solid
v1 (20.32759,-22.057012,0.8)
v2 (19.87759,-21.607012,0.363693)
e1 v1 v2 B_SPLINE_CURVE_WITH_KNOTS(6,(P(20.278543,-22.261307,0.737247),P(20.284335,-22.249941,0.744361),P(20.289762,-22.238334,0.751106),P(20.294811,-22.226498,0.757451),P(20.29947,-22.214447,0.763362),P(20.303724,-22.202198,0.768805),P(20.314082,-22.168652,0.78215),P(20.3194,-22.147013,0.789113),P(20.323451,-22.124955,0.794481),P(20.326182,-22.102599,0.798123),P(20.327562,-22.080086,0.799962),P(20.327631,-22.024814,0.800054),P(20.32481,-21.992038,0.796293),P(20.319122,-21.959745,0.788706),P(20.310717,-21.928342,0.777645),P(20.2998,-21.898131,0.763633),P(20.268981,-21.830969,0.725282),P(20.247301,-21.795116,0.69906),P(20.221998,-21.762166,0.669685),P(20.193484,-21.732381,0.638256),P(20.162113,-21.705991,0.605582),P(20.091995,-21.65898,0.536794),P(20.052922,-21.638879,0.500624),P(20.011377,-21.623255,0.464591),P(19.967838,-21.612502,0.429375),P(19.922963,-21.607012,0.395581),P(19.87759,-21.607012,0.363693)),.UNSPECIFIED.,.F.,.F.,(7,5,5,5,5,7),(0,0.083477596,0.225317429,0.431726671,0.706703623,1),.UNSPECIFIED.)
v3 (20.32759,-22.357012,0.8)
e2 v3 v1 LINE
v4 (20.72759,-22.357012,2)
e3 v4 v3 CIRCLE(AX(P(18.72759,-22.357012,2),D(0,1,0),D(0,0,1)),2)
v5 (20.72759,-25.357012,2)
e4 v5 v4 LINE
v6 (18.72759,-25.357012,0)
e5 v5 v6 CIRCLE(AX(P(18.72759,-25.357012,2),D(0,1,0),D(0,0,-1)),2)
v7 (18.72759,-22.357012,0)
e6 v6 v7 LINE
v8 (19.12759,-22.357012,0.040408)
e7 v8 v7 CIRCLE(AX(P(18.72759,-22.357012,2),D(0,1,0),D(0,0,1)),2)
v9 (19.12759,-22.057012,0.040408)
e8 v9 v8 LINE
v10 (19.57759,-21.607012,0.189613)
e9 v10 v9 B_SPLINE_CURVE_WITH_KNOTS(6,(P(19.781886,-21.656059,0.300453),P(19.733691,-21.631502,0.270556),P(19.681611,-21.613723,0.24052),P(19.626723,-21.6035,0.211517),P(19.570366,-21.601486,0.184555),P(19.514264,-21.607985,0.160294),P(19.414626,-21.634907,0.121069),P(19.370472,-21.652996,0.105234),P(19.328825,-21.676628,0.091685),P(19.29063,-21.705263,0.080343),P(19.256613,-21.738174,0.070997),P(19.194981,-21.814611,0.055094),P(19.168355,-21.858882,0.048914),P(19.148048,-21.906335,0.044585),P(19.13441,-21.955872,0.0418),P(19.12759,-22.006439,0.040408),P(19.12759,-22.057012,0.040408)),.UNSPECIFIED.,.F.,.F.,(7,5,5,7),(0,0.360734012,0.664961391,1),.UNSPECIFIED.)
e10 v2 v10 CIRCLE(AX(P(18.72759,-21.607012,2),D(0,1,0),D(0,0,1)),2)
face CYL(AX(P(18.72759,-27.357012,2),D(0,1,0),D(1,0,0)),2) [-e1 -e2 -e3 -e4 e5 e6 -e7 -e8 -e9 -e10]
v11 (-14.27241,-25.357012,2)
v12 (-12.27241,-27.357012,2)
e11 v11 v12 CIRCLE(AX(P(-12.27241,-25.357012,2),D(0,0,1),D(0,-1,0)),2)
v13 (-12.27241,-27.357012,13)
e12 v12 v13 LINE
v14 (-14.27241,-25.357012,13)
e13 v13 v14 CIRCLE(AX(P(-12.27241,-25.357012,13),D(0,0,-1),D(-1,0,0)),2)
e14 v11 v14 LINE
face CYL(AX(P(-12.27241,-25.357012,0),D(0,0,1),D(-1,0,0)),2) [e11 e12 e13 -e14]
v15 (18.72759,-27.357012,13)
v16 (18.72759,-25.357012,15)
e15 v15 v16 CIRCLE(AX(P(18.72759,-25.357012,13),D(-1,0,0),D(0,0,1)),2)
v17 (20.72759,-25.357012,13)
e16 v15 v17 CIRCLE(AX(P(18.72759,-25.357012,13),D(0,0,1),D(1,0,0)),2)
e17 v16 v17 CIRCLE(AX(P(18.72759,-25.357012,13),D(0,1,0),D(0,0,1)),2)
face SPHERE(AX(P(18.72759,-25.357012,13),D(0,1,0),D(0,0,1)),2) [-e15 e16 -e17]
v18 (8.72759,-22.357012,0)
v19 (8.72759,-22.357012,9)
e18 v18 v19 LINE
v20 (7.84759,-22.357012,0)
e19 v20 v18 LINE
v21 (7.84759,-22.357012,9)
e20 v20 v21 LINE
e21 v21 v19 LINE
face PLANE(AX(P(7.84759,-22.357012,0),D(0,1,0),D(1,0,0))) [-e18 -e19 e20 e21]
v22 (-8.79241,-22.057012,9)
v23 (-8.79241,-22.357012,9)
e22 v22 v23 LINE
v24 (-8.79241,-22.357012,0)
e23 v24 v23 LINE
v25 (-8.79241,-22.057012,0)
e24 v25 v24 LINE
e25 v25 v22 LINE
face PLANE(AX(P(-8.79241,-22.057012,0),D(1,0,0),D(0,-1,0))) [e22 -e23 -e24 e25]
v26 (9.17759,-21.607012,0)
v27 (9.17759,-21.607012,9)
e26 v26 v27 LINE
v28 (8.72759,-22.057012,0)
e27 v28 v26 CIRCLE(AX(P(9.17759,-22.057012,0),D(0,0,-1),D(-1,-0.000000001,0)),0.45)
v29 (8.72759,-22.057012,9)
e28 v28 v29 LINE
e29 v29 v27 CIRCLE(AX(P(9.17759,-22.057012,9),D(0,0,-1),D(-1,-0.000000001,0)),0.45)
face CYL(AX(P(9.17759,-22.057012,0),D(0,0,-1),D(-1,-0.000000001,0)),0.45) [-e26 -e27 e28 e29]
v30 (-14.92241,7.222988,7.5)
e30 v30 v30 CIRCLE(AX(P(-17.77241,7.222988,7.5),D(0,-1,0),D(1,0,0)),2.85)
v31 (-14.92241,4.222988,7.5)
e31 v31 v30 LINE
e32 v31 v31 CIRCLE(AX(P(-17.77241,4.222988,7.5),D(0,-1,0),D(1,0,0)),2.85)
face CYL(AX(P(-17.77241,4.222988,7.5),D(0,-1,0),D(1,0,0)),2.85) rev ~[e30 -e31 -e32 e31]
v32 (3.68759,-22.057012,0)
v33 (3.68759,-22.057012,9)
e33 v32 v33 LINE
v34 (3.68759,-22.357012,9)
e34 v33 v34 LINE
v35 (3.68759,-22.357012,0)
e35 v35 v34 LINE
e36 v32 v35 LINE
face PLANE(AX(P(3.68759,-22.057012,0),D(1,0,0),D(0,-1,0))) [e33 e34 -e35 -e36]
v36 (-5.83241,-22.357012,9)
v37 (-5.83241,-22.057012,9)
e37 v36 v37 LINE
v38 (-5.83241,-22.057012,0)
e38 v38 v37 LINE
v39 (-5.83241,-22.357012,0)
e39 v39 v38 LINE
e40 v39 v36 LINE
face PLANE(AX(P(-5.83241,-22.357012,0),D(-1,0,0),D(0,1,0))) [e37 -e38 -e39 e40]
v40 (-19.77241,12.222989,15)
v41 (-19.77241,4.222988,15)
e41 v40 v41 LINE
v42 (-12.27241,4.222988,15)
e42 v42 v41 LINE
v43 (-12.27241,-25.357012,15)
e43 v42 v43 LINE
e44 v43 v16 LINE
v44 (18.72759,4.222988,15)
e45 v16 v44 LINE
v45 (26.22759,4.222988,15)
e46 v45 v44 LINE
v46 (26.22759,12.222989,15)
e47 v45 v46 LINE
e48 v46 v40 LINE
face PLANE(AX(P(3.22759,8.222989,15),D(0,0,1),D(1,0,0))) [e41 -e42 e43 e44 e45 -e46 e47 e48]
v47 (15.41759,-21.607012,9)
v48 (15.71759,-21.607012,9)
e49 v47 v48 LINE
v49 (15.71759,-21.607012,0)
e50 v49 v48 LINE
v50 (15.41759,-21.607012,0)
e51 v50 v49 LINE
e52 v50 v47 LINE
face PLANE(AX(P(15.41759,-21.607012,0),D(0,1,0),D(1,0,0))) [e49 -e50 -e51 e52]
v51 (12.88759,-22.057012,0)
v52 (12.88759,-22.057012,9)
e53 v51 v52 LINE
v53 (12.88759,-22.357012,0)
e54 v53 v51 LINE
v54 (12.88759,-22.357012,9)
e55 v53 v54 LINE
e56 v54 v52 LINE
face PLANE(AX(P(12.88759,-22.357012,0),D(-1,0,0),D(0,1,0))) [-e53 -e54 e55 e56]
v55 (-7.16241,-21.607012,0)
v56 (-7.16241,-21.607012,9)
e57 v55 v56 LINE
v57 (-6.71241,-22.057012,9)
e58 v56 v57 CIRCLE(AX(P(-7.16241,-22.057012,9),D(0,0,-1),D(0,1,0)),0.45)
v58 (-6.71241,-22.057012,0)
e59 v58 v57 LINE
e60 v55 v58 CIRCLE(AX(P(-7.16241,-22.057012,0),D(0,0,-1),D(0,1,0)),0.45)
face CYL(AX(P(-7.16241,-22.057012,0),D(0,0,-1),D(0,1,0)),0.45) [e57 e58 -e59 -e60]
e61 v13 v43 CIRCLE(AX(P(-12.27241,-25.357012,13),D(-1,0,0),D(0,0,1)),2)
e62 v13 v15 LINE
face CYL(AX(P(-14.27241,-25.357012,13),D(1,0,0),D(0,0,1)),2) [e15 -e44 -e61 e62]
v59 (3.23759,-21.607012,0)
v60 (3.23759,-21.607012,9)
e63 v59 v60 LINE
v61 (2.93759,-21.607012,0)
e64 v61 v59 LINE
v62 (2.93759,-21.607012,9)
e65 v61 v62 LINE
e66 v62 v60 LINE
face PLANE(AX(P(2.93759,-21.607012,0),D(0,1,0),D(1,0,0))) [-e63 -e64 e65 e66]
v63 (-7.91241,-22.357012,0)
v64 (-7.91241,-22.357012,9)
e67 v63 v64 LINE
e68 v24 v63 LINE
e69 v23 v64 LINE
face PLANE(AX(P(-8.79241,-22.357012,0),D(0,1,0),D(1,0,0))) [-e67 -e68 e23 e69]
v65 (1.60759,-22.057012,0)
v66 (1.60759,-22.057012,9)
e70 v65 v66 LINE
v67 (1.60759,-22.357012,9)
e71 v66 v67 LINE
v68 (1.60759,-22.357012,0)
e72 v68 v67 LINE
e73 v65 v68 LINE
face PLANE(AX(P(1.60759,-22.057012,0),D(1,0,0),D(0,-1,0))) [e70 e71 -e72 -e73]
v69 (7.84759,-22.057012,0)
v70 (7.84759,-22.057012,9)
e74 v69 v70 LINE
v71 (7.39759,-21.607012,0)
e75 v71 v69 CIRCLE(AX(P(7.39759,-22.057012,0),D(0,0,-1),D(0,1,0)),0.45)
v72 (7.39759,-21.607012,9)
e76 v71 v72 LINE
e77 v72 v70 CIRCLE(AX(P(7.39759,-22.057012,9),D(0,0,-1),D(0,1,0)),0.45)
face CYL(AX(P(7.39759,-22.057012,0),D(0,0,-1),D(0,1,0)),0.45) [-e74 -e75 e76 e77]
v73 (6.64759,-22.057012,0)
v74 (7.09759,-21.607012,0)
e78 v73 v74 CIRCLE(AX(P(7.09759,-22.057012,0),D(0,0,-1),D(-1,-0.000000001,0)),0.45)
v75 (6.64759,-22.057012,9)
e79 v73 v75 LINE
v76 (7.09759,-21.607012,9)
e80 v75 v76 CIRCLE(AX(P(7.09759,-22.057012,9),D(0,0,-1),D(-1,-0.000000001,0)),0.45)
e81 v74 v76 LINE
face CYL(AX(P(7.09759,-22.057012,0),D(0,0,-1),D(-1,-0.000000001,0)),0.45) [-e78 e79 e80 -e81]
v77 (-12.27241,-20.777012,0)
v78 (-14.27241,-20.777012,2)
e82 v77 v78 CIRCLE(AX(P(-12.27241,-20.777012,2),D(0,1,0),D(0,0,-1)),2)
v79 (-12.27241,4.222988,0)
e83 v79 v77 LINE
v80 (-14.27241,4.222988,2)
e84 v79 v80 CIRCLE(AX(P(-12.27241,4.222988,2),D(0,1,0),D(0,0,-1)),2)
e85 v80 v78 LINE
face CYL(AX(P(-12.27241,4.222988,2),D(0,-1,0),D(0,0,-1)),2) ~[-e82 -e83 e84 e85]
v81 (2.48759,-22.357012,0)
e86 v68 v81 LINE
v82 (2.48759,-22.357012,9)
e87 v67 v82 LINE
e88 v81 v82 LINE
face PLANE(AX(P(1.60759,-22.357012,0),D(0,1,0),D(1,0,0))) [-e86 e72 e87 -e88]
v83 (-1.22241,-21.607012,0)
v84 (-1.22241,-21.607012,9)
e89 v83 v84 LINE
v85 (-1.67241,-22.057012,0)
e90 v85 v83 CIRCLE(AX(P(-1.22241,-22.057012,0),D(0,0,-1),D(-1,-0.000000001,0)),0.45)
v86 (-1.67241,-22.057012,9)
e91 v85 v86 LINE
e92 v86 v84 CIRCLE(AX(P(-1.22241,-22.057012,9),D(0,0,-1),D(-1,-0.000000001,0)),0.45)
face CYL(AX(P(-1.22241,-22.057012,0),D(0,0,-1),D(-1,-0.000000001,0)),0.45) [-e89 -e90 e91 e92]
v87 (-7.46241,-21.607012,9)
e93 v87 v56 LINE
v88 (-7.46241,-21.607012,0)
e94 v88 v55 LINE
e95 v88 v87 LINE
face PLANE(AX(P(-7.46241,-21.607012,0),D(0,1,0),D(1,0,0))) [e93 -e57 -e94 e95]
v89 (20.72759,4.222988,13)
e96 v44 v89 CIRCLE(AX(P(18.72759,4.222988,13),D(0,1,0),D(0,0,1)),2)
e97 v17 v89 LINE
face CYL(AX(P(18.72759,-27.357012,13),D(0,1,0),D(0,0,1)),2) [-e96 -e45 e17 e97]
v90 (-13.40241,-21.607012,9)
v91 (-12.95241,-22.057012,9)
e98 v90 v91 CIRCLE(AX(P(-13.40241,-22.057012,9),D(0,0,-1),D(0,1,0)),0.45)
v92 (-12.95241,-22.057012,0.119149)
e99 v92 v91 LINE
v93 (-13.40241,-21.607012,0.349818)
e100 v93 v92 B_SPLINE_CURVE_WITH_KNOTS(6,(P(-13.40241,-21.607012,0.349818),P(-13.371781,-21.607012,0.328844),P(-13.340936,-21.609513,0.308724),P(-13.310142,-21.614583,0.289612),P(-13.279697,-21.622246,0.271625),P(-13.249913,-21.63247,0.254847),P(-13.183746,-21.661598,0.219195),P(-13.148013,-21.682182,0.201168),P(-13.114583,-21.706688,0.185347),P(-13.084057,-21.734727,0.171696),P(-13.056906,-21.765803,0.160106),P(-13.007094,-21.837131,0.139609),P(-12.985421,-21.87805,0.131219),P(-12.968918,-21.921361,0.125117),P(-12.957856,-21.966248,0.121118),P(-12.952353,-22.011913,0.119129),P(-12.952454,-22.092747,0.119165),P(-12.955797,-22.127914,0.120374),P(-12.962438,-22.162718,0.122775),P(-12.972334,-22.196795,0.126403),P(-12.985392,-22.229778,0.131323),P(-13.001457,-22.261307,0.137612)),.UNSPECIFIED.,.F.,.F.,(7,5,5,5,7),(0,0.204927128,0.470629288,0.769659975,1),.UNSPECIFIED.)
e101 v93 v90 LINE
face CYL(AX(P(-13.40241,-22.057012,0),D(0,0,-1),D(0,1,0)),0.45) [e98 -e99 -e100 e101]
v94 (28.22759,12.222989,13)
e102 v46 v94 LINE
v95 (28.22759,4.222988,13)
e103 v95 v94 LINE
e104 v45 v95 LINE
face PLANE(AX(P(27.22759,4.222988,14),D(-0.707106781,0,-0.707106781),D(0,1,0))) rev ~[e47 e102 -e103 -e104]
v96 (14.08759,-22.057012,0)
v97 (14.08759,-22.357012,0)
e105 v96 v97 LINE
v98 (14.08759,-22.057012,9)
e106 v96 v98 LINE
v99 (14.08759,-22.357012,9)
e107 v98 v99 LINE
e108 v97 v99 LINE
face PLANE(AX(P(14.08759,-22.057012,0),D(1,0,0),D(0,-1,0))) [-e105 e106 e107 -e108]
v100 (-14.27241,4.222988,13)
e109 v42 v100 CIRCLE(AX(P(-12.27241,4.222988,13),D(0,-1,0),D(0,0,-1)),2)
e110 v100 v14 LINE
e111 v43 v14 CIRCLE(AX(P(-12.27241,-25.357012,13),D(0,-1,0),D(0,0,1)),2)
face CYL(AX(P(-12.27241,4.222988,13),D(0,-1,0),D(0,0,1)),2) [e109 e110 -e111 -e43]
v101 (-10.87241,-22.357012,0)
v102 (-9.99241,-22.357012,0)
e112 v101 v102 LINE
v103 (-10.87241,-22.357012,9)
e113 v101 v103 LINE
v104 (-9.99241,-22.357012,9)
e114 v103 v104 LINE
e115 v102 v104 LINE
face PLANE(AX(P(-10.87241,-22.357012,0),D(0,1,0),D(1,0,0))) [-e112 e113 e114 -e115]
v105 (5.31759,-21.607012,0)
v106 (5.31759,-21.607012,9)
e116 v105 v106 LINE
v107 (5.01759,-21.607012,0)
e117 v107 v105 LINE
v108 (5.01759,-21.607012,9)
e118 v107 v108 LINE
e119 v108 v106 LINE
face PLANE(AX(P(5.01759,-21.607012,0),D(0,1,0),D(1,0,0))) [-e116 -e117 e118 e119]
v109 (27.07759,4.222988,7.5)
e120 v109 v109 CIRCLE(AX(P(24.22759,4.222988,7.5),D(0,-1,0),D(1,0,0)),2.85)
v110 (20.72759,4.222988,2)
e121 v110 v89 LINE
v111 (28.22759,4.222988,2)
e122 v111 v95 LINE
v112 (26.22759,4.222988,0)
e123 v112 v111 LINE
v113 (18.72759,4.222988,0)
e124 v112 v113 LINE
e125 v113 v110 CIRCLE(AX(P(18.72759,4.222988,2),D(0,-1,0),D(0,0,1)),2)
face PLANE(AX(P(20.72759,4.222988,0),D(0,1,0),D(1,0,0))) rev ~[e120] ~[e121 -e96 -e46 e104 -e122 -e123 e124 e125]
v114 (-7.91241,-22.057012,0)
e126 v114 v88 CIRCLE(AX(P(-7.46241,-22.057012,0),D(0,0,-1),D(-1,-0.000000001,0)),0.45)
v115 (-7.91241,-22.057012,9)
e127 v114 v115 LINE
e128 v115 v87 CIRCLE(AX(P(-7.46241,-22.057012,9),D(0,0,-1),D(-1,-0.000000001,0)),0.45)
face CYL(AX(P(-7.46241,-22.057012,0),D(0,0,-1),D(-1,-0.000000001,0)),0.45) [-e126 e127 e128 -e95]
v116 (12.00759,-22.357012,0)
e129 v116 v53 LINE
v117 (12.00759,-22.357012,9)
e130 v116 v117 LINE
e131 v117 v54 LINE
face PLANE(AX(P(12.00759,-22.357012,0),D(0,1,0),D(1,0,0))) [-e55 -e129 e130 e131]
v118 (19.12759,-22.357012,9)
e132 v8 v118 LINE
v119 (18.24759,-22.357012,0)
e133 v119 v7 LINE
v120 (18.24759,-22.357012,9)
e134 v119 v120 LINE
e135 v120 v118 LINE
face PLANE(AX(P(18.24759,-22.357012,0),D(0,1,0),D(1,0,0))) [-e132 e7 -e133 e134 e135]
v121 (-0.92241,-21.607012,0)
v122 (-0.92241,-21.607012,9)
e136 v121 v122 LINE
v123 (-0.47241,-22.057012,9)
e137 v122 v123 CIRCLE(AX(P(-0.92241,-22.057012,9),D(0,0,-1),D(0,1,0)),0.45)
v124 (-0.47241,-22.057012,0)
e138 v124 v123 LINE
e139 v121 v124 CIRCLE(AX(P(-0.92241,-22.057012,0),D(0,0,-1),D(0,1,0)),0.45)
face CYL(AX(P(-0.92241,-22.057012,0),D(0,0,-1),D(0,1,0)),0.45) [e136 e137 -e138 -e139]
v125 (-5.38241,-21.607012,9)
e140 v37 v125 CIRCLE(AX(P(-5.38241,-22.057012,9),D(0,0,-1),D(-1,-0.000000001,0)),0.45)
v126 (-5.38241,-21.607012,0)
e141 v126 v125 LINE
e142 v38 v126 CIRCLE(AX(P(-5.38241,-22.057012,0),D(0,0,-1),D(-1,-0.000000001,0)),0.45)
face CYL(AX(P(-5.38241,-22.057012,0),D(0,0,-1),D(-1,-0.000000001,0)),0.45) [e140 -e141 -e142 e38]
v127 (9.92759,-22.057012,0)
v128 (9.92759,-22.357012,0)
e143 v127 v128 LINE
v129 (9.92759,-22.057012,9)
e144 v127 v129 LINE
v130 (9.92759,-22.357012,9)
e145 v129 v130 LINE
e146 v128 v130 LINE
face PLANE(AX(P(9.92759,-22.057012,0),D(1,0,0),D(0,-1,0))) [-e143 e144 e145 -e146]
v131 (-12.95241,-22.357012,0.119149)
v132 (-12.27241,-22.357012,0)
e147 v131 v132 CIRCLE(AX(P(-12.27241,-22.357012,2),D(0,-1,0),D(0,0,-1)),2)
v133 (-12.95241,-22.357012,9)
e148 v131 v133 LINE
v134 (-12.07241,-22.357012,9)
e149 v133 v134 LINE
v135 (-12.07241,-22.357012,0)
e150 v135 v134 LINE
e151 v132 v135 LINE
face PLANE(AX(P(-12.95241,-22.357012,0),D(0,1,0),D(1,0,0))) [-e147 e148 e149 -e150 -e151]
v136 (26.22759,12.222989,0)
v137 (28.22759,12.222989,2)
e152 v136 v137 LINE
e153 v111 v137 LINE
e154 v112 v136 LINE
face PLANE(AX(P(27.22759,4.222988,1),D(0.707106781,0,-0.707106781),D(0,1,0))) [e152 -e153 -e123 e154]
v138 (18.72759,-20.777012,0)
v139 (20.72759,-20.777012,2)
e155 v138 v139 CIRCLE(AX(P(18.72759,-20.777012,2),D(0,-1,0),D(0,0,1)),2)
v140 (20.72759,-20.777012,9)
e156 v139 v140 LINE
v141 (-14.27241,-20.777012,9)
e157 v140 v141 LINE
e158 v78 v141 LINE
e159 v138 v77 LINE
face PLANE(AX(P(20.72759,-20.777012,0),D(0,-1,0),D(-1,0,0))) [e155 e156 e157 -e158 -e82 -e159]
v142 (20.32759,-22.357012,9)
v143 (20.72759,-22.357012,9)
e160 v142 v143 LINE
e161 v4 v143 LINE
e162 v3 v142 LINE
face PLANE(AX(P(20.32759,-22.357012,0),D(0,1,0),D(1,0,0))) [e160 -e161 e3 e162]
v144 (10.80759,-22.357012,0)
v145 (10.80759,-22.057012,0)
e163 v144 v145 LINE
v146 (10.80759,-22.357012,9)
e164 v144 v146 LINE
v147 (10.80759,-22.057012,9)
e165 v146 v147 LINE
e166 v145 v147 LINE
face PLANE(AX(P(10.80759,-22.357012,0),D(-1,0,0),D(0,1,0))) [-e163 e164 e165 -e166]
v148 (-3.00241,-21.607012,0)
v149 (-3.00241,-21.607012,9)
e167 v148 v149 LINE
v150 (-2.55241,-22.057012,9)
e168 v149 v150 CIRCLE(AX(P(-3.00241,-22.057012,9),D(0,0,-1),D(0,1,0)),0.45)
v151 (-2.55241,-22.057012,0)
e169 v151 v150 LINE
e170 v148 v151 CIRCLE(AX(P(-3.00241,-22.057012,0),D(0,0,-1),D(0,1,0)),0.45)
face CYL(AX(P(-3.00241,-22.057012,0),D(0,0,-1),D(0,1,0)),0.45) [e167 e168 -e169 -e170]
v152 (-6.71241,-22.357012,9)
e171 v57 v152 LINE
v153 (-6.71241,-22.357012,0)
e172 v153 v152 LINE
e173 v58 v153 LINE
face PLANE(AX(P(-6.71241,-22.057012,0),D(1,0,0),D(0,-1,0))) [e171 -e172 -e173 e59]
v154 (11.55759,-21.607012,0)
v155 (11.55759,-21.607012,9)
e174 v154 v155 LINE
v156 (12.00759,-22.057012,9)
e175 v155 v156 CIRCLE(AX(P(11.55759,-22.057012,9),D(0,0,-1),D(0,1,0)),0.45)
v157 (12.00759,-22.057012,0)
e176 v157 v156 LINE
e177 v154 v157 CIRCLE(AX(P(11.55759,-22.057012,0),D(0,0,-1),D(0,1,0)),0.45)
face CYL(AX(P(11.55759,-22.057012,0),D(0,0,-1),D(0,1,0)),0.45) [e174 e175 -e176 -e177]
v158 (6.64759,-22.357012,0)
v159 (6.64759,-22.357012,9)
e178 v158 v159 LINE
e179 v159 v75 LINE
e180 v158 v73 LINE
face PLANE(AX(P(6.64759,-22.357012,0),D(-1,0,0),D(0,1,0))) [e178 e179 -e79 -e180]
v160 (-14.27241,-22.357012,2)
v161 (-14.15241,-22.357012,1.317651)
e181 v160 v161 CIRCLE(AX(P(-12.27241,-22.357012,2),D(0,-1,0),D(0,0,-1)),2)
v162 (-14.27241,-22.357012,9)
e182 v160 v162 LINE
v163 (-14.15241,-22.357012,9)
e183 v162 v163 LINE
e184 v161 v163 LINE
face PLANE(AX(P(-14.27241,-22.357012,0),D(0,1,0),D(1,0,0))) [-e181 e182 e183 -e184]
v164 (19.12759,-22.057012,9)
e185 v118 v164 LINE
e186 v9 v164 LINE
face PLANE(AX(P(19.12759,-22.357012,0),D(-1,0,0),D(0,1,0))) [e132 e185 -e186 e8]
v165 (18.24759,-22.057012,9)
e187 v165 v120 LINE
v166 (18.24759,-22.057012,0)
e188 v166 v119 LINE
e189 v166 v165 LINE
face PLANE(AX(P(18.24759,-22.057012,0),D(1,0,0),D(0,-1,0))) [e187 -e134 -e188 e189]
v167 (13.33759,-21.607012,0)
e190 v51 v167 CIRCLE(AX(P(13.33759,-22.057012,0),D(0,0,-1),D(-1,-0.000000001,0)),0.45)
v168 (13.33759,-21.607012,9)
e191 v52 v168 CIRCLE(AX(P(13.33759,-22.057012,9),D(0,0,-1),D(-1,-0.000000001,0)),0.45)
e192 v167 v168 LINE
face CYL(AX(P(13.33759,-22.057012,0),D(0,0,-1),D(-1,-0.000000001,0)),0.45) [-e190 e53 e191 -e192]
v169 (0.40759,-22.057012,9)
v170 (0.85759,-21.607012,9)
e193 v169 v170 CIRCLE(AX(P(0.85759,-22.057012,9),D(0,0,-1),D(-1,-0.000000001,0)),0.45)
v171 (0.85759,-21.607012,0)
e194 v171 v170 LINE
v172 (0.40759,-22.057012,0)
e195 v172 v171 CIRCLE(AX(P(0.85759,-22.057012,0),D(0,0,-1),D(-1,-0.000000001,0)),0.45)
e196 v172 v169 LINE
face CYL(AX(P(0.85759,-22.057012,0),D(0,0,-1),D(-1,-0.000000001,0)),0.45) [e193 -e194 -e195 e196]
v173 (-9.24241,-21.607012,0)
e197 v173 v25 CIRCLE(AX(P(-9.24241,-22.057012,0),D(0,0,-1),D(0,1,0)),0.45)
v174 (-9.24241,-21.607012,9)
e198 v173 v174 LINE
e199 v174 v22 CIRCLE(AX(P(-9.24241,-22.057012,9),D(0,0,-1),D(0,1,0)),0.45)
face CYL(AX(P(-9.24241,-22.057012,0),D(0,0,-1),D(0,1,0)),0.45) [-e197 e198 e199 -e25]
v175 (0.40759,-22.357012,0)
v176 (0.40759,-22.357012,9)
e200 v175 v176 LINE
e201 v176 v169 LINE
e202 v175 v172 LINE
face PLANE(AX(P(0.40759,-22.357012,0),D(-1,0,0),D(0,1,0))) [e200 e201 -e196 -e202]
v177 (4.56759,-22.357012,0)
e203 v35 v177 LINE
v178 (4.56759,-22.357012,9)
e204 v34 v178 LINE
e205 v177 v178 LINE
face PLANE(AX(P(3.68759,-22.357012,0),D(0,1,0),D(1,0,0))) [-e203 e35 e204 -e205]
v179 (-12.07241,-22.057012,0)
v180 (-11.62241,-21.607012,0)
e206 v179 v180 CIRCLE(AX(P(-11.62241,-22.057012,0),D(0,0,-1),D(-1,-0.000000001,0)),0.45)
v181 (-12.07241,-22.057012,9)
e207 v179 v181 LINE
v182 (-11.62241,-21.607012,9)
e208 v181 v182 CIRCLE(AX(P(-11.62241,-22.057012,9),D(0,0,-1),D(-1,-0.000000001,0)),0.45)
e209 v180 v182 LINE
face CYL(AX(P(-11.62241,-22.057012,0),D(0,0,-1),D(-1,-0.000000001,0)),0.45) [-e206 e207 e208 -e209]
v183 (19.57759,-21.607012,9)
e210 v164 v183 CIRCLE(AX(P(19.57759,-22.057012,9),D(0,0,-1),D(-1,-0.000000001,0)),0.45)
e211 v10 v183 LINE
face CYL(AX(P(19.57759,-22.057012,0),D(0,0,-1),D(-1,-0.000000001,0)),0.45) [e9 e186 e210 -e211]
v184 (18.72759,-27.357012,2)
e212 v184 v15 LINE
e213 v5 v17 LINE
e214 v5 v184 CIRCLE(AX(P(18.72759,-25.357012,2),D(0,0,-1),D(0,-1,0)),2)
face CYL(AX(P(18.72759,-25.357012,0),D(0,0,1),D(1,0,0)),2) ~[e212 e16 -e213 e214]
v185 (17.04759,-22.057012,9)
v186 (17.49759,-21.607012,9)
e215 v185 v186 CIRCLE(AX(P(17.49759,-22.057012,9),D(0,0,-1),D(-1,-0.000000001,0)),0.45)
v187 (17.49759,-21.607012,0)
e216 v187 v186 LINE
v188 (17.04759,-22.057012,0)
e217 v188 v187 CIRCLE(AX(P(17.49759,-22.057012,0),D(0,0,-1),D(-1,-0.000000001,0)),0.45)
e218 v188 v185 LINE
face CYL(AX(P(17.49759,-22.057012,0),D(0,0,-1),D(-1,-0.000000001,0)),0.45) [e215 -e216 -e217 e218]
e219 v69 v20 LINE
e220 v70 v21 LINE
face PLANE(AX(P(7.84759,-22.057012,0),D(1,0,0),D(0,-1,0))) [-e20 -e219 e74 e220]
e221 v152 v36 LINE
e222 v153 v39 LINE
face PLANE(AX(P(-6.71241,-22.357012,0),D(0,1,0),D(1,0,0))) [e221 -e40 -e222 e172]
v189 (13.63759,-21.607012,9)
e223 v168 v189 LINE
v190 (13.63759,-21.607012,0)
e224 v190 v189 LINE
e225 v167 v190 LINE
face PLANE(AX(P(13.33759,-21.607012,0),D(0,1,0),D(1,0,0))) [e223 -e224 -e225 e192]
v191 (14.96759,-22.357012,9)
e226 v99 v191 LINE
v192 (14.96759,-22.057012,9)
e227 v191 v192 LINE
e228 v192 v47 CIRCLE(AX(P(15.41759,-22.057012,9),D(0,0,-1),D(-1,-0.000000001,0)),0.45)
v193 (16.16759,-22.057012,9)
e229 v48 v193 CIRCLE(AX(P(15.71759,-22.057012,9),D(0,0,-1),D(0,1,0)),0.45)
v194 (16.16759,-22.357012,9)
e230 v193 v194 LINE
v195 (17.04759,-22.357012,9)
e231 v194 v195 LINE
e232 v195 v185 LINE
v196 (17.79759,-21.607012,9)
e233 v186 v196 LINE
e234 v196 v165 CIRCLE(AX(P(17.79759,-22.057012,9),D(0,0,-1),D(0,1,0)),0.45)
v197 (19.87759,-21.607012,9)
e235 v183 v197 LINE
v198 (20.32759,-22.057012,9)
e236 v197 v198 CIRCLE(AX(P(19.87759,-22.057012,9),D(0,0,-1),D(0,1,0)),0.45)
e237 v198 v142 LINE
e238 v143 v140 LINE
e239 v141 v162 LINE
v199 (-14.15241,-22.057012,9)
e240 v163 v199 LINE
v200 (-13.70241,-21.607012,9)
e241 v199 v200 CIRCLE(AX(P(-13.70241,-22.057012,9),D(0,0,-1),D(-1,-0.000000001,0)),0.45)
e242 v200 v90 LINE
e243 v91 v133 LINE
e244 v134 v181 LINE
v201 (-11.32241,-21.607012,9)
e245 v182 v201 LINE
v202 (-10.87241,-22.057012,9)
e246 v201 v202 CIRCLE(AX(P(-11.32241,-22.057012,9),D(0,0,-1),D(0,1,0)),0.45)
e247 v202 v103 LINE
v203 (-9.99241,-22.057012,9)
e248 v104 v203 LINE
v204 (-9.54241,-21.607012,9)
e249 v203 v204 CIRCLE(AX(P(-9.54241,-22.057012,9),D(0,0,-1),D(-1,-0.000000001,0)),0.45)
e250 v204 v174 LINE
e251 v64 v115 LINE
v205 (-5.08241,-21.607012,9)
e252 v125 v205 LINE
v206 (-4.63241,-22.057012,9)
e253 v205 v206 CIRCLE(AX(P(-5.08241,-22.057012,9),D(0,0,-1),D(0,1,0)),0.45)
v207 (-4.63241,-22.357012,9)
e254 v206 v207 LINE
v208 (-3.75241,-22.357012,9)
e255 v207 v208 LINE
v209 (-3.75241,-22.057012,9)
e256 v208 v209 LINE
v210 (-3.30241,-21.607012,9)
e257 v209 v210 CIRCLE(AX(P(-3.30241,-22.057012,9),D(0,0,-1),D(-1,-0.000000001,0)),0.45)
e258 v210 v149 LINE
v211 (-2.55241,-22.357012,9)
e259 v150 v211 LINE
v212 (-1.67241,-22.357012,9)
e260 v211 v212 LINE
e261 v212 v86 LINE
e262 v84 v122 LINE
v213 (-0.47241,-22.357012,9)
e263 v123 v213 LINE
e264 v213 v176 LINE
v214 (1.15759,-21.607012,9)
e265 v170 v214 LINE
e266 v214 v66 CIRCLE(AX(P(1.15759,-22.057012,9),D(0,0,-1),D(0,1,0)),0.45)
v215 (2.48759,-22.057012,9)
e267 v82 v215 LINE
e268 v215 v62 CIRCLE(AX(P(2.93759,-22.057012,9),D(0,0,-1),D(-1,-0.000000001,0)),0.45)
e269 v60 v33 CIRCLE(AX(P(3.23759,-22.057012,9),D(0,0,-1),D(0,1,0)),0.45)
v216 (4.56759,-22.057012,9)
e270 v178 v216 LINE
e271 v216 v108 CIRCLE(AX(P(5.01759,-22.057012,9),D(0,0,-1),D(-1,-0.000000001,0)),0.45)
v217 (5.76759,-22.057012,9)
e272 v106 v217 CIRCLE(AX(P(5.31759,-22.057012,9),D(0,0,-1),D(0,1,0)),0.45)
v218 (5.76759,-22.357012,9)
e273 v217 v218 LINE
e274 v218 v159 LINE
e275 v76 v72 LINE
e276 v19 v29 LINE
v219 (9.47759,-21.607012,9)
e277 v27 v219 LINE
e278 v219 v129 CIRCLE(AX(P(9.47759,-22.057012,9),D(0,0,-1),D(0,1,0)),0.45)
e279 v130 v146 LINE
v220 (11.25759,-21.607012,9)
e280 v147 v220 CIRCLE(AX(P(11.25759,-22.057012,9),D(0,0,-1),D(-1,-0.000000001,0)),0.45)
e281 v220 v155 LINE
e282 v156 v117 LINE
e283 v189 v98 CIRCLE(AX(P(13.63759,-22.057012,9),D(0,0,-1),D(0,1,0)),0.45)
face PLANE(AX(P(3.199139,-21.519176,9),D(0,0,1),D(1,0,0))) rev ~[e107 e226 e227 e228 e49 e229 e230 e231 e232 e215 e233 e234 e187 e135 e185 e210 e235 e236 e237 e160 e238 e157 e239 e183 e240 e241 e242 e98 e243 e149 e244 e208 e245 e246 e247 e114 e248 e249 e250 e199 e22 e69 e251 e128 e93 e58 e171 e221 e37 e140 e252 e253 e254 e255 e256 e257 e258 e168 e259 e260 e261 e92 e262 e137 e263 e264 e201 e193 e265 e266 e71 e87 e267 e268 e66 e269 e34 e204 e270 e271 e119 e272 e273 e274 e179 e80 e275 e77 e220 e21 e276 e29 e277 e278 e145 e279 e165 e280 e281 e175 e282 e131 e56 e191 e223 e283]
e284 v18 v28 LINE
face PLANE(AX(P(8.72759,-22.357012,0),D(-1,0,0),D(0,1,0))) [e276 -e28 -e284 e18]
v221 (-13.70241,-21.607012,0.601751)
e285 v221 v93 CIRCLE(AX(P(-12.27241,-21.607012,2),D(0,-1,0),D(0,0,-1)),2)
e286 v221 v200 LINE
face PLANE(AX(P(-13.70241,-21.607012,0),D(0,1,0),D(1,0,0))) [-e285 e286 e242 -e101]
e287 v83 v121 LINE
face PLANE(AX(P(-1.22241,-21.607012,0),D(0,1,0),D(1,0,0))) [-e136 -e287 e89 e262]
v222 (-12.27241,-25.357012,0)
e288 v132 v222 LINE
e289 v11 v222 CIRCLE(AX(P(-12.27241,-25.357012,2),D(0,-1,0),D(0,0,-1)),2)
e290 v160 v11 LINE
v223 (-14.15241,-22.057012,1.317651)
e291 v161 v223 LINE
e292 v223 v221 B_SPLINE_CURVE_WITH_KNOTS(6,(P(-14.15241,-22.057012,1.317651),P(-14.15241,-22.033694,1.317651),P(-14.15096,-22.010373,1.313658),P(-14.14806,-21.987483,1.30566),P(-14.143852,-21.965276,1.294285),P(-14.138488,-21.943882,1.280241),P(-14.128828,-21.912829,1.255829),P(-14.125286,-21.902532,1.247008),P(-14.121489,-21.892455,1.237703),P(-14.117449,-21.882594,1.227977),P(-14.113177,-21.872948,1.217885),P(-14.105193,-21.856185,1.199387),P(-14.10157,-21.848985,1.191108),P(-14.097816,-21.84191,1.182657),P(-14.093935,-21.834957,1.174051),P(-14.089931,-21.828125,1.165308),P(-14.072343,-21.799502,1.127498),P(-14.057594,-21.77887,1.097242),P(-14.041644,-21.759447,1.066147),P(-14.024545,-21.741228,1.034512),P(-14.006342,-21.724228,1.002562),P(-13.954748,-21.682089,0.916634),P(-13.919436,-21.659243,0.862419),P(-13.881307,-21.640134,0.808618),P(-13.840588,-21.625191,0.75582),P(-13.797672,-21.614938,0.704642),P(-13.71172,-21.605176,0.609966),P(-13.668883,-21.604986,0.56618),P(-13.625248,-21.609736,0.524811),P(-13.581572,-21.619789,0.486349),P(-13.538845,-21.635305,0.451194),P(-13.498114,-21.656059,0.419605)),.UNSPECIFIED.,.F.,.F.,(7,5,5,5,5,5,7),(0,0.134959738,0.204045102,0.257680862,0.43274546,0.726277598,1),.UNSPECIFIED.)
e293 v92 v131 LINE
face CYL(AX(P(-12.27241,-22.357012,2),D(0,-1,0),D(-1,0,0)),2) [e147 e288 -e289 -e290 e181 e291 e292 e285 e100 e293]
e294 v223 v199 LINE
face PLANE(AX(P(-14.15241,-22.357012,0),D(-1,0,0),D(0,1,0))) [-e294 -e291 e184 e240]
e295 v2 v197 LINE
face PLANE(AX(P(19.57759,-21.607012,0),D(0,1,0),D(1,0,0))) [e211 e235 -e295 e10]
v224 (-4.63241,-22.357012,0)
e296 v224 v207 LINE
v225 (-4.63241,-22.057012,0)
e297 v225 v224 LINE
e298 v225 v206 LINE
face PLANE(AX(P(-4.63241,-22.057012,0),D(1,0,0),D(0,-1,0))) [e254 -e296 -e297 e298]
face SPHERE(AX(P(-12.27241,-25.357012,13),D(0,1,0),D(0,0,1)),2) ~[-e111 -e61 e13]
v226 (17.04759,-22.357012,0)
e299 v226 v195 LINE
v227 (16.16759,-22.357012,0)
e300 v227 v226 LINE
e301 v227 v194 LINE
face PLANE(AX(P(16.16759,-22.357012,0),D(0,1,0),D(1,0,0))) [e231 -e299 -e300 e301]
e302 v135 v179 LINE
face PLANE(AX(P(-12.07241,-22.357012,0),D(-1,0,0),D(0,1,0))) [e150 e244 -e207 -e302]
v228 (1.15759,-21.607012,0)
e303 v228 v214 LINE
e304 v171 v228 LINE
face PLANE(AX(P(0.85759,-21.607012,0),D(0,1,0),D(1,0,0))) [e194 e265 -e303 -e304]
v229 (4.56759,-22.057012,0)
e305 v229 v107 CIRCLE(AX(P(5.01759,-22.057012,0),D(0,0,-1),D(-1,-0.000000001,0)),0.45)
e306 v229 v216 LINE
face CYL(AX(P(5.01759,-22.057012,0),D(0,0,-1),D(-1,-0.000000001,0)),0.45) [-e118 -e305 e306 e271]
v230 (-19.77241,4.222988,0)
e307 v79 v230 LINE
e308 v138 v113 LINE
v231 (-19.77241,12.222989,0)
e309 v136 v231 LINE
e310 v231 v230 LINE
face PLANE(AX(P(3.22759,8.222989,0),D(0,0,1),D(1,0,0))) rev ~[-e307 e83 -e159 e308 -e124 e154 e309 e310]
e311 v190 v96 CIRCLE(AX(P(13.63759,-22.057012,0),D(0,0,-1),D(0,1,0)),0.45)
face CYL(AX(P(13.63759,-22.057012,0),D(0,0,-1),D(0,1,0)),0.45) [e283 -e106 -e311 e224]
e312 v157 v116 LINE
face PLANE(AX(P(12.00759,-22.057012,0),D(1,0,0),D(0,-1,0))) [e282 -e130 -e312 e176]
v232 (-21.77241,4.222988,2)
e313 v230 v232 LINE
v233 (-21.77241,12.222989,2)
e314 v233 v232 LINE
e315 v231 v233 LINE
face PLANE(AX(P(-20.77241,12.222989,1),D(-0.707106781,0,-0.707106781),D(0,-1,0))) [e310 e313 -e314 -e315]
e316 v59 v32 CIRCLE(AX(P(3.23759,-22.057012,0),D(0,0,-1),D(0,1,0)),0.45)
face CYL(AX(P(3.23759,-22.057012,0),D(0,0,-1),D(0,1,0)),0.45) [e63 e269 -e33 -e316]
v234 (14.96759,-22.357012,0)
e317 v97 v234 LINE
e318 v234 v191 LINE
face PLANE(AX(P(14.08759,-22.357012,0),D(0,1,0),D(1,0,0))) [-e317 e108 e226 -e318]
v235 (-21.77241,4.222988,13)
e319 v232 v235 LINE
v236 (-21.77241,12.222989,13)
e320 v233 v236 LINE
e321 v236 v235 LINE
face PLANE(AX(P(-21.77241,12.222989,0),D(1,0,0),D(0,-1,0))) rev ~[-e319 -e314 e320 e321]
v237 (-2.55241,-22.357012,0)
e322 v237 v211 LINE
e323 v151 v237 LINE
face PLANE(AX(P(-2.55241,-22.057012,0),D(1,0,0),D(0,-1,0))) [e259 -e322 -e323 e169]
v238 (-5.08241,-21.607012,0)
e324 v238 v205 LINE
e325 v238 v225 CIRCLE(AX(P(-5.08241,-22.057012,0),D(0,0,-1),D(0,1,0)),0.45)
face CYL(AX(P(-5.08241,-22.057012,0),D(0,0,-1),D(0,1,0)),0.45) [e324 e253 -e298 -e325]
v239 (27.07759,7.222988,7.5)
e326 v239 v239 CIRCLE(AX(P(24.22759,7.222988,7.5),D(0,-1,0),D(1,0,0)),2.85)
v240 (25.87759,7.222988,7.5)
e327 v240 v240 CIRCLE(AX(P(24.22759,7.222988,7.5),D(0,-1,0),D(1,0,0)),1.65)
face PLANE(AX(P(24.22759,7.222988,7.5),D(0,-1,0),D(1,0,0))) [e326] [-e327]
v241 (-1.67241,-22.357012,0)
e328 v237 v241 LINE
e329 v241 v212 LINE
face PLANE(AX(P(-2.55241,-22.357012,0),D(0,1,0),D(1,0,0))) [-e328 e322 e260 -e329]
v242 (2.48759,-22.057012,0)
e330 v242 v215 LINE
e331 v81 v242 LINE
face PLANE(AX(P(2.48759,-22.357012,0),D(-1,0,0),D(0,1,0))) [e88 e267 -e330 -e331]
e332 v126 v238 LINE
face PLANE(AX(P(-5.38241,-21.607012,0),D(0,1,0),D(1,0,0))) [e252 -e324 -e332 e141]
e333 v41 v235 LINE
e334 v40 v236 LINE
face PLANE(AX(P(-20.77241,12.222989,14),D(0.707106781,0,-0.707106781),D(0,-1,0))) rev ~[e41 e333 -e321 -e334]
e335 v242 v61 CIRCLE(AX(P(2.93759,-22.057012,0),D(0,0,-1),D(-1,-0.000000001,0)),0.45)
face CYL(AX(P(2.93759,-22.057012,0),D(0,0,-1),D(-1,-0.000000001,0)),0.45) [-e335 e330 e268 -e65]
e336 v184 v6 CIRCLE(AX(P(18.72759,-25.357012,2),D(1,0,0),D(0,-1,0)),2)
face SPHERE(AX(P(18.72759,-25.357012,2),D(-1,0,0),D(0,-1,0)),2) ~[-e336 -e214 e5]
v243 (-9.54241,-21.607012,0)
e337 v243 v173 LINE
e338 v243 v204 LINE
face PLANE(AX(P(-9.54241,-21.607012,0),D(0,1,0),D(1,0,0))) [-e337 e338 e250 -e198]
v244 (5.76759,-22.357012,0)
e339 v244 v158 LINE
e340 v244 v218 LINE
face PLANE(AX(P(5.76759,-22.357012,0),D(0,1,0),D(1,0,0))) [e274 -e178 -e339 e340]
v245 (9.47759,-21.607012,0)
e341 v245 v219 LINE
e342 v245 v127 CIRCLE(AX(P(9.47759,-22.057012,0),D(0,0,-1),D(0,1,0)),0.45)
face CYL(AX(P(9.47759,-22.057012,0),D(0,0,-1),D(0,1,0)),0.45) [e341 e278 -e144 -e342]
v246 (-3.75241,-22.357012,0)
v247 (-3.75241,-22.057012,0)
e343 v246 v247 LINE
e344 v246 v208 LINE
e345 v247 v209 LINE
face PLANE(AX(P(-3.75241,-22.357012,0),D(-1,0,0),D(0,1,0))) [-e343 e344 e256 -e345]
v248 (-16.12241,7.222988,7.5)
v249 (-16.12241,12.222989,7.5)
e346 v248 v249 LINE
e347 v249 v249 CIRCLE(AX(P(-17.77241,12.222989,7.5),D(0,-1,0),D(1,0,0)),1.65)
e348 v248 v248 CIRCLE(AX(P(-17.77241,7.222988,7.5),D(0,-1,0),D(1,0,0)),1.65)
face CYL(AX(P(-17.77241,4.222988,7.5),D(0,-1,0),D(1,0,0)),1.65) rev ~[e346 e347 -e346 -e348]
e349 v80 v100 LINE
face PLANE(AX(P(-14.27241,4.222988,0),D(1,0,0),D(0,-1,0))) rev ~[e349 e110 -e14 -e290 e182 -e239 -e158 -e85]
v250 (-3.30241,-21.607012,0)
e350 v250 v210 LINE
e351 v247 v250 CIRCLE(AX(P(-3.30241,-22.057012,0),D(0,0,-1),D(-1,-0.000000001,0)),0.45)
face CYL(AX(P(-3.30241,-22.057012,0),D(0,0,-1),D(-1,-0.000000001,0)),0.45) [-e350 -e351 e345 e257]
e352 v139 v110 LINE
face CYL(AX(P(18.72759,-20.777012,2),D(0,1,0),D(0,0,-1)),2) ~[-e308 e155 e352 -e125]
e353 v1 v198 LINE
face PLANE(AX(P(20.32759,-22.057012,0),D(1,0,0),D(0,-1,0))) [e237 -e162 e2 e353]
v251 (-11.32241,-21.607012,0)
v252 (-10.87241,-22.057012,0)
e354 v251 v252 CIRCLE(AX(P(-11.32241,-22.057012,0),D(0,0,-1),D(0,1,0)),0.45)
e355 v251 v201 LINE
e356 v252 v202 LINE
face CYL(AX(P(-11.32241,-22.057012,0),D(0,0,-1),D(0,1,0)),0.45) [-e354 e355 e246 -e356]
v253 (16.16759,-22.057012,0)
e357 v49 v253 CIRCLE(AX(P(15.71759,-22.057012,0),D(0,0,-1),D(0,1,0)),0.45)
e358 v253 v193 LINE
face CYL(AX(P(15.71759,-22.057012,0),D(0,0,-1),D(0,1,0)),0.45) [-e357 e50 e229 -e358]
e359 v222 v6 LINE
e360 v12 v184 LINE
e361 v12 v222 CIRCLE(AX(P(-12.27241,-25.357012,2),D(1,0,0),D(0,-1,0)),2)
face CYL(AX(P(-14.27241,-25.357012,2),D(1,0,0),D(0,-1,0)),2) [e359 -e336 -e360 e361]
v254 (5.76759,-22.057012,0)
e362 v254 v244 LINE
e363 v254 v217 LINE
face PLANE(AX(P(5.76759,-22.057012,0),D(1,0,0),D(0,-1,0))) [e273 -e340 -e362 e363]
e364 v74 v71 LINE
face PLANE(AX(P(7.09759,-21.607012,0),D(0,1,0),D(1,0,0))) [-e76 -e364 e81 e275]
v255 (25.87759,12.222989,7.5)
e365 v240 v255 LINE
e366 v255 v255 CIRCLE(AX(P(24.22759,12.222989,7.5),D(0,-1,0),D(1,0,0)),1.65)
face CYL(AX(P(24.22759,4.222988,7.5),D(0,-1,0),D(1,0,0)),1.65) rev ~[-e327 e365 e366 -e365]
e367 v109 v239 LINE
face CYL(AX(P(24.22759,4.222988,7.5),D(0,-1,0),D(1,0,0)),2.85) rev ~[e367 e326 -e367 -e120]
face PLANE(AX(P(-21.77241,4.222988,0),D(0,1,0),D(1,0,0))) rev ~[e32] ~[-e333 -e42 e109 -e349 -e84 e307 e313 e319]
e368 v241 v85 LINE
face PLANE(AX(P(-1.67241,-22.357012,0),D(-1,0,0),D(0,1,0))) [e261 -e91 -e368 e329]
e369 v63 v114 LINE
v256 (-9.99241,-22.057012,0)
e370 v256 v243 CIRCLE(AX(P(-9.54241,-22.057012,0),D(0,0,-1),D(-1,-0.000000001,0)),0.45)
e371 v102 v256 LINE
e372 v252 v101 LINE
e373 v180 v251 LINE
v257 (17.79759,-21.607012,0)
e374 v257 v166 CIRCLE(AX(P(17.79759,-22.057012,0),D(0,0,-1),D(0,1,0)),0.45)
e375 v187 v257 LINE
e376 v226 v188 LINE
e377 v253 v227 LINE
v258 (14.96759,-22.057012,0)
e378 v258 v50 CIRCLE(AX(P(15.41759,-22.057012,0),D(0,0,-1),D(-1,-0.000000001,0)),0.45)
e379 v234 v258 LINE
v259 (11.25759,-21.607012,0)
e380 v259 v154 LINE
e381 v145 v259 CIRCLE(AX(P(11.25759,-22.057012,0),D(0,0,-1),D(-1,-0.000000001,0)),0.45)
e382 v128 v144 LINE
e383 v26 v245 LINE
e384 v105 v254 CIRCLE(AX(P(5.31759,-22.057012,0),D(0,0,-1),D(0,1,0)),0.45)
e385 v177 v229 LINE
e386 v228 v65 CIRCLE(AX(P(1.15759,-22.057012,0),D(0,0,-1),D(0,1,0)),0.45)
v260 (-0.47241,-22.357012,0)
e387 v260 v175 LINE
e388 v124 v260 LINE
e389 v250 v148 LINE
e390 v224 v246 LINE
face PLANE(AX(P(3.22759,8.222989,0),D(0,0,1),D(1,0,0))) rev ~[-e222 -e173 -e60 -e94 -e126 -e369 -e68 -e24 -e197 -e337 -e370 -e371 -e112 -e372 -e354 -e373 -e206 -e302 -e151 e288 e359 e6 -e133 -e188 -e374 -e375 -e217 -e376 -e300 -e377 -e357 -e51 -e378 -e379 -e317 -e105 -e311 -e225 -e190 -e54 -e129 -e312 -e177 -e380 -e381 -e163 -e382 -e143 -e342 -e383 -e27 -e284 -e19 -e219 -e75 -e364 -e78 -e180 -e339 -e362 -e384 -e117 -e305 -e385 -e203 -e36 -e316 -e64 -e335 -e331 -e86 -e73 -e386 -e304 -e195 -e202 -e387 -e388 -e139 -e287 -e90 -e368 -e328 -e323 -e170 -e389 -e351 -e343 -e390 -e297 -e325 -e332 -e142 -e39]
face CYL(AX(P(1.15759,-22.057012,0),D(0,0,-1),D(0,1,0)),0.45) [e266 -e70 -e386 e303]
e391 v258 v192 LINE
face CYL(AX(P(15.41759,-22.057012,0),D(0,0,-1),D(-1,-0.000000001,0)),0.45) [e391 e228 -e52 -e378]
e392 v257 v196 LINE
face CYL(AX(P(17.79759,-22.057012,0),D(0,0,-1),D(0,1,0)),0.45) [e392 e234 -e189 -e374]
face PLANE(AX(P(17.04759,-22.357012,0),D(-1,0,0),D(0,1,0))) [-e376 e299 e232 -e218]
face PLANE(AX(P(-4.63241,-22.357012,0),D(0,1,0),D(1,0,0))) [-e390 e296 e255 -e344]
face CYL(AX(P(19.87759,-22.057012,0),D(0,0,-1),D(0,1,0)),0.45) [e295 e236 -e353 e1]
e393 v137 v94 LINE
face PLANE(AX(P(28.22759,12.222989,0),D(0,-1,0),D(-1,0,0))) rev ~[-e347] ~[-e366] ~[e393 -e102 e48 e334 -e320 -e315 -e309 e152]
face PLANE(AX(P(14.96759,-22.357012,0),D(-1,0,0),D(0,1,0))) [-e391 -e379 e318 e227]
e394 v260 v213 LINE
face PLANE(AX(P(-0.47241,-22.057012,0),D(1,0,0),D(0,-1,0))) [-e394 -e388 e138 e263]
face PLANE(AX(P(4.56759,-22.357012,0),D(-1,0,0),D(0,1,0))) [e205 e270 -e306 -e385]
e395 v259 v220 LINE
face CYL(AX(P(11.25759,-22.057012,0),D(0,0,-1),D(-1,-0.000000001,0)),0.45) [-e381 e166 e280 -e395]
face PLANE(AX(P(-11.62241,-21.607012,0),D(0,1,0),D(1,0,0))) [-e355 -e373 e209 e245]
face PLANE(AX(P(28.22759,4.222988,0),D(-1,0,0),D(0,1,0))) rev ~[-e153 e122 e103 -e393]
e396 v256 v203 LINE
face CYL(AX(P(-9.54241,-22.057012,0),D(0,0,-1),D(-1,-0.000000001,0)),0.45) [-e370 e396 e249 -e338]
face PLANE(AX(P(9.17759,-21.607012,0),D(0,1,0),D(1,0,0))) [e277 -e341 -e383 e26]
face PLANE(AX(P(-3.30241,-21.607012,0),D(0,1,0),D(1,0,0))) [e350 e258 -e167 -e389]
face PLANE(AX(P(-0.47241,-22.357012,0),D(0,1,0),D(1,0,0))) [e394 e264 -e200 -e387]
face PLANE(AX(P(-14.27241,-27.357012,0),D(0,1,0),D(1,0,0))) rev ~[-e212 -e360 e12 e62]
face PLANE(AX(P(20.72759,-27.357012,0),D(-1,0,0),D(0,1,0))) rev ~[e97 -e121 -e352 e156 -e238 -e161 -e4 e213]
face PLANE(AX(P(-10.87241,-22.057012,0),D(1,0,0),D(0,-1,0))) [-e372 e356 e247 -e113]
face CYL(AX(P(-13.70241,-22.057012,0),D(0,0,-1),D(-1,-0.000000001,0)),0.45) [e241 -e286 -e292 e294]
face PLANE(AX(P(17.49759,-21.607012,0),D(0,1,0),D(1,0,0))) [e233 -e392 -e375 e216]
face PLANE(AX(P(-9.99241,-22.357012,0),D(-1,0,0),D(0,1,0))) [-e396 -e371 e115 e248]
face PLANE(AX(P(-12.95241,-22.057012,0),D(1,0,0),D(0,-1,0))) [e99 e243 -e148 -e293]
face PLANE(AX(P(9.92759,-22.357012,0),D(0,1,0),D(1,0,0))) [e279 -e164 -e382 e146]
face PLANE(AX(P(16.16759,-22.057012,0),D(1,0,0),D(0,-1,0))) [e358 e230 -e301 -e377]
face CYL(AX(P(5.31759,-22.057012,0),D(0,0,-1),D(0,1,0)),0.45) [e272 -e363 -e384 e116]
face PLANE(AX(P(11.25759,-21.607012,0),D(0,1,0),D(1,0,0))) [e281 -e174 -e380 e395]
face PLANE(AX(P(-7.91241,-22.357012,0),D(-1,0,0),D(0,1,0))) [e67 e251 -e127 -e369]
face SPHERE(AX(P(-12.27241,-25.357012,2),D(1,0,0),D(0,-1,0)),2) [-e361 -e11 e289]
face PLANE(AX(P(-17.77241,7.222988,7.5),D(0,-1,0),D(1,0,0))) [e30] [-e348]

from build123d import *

# Parameters (mm, degrees)
F0_W     = 35
F0_H     = 25
F0_H_2   = 1.58
F0_H_3   = 5
F1_DEPTH = 15
F3_DEPTH = 9
F4_R     = 2
F6_SIZE  = 2
F5_R     = 1.65
F7_R     = 1.65
F8_DEPTH = 8.0000008897
F5_R_2   = 2.85
F7_R_2   = 2.85
F9_DEPTH = 3


with BuildPart() as f1:
    # F0 (on Top) → F1 (new body)
    with BuildSketch(Plane.XY):
        Polygon((28.2275901735, 12.2229893546), (-21.7724098265, 12.2229893546), (-21.7724098265, 4.2229884648), (-14.2724098265, 4.2229884648), (20.7275901735, 4.2229884648), (28.2275901735, 4.2229884648), align=None)
        with Locations((3.2275901735, -8.2770115352)):
            Rectangle(F0_W, F0_H)
        with Locations((3.2275901735, -21.5670115352)):
            Rectangle(F0_W, F0_H_2)
        with Locations((3.2275901735, -24.8570115352)):
            Rectangle(F0_W, F0_H_3)
    extrude(amount=F1_DEPTH)

    # F2 (on face) → F3 (cut)
    with BuildSketch(Plane.XY):
        with BuildLine():
            Line((19.5775901735, -21.6070115352), (19.8775901735, -21.6070115352))
            ThreePointArc((19.8775901735, -21.6070115352), (20.195788225, -21.7388134836), (20.3275901735, -22.0570115352))
            Line((20.3275901735, -22.0570115352), (20.3275901735, -22.3570115352))
            Line((20.3275901735, -22.3570115352), (20.7275901735, -22.3570115352))
            Line((20.7275901735, -22.3570115352), (20.7275901735, -20.7770115352))
            Line((20.7275901735, -20.7770115352), (-14.2724098265, -20.7770115352))
            Line((-14.2724098265, -20.7770115352), (-14.2724098265, -22.3570115352))
            Line((-14.2724098265, -22.3570115352), (-14.1524098265, -22.3570115352))
            Line((-14.1524098265, -22.3570115352), (-14.1524098265, -22.0570115352))
            ThreePointArc((-14.1524098265, -22.0570115352), (-14.0206078781, -21.7388134836), (-13.7024098265, -21.6070115352))
            Line((-13.7024098265, -21.6070115352), (-13.6128300801, -21.6070115352))
            Line((-13.6128300801, -21.6070115352), (-13.4024098265, -21.6070115352))
            ThreePointArc((-13.4024098265, -21.6070115352), (-13.084211775, -21.7388134836), (-12.9524098265, -22.0570115352))
            Line((-12.9524098265, -22.0570115352), (-12.9524098265, -22.3570115352))
            Line((-12.9524098265, -22.3570115352), (-12.0724098265, -22.3570115352))
            Line((-12.0724098265, -22.3570115352), (-12.0724098265, -22.0570115352))
            ThreePointArc((-12.0724098265, -22.0570115352), (-11.9406078781, -21.7388134836), (-11.6224098265, -21.6070115352))
            Line((-11.6224098265, -21.6070115352), (-11.3224098265, -21.6070115352))
            ThreePointArc((-11.3224098265, -21.6070115352), (-11.004211775, -21.7388134836), (-10.8724098265, -22.0570115352))
            Line((-10.8724098265, -22.0570115352), (-10.8724098265, -22.3570115352))
            Line((-10.8724098265, -22.3570115352), (-9.9924098265, -22.3570115352))
            Line((-9.9924098265, -22.3570115352), (-9.9924098265, -22.0570115352))
            ThreePointArc((-9.9924098265, -22.0570115352), (-9.8606078781, -21.7388134836), (-9.5424098265, -21.6070115352))
            Line((-9.5424098265, -21.6070115352), (-9.2424098265, -21.6070115352))
            ThreePointArc((-9.2424098265, -21.6070115352), (-8.924211775, -21.7388134836), (-8.7924098265, -22.0570115352))
            Line((-8.7924098265, -22.0570115352), (-8.7924098265, -22.3570115352))
            Line((-8.7924098265, -22.3570115352), (-7.9124098265, -22.3570115352))
            Line((-7.9124098265, -22.3570115352), (-7.9124098265, -22.0570115352))
            ThreePointArc((-7.9124098265, -22.0570115352), (-7.7806078781, -21.7388134836), (-7.4624098265, -21.6070115352))
            Line((-7.4624098265, -21.6070115352), (-7.1624098265, -21.6070115352))
            ThreePointArc((-7.1624098265, -21.6070115352), (-6.844211775, -21.7388134836), (-6.7124098265, -22.0570115352))
            Line((-6.7124098265, -22.0570115352), (-6.7124098265, -22.3570115352))
            Line((-6.7124098265, -22.3570115352), (-5.8324098265, -22.3570115352))
            Line((-5.8324098265, -22.3570115352), (-5.8324098265, -22.0570115352))
            ThreePointArc((-5.8324098265, -22.0570115352), (-5.7006078781, -21.7388134836), (-5.3824098265, -21.6070115352))
            Line((-5.3824098265, -21.6070115352), (-5.0824098265, -21.6070115352))
            ThreePointArc((-5.0824098265, -21.6070115352), (-4.764211775, -21.7388134836), (-4.6324098265, -22.0570115352))
            Line((-4.6324098265, -22.0570115352), (-4.6324098265, -22.3570115352))
            Line((-4.6324098265, -22.3570115352), (-3.7524098265, -22.3570115352))
            Line((-3.7524098265, -22.3570115352), (-3.7524098265, -22.0570115352))
            ThreePointArc((-3.7524098265, -22.0570115352), (-3.6206078781, -21.7388134836), (-3.3024098265, -21.6070115352))
            Line((-3.3024098265, -21.6070115352), (-3.0024098265, -21.6070115352))
            ThreePointArc((-3.0024098265, -21.6070115352), (-2.684211775, -21.7388134836), (-2.5524098265, -22.0570115352))
            Line((-2.5524098265, -22.0570115352), (-2.5524098265, -22.3570115352))
            Line((-2.5524098265, -22.3570115352), (-1.6724098265, -22.3570115352))
            Line((-1.6724098265, -22.3570115352), (-1.6724098265, -22.0570115352))
            ThreePointArc((-1.6724098265, -22.0570115352), (-1.5406078781, -21.7388134836), (-1.2224098265, -21.6070115352))
            Line((-1.2224098265, -21.6070115352), (-0.9224098265, -21.6070115352))
            ThreePointArc((-0.9224098265, -21.6070115352), (-0.604211775, -21.7388134836), (-0.4724098265, -22.0570115352))
            Line((-0.4724098265, -22.0570115352), (-0.4724098265, -22.3570115352))
            Line((-0.4724098265, -22.3570115352), (0.4075901735, -22.3570115352))
            Line((0.4075901735, -22.3570115352), (0.4075901735, -22.0570115352))
            ThreePointArc((0.4075901735, -22.0570115352), (0.5393921219, -21.7388134836), (0.8575901735, -21.6070115352))
            Line((0.8575901735, -21.6070115352), (1.1575901735, -21.6070115352))
            ThreePointArc((1.1575901735, -21.6070115352), (1.475788225, -21.7388134836), (1.6075901735, -22.0570115352))
            Line((1.6075901735, -22.0570115352), (1.6075901735, -22.3570115352))
            Line((1.6075901735, -22.3570115352), (2.4875901735, -22.3570115352))
            Line((2.4875901735, -22.3570115352), (2.4875901735, -22.0570115352))
            ThreePointArc((2.4875901735, -22.0570115352), (2.6193921219, -21.7388134836), (2.9375901735, -21.6070115352))
            Line((2.9375901735, -21.6070115352), (3.2375901735, -21.6070115352))
            ThreePointArc((3.2375901735, -21.6070115352), (3.555788225, -21.7388134836), (3.6875901735, -22.0570115352))
            Line((3.6875901735, -22.0570115352), (3.6875901735, -22.3570115352))
            Line((3.6875901735, -22.3570115352), (4.5675901735, -22.3570115352))
            Line((4.5675901735, -22.3570115352), (4.5675901735, -22.0570115352))
            ThreePointArc((4.5675901735, -22.0570115352), (4.6993921219, -21.7388134836), (5.0175901735, -21.6070115352))
            Line((5.0175901735, -21.6070115352), (5.3175901735, -21.6070115352))
            ThreePointArc((5.3175901735, -21.6070115352), (5.635788225, -21.7388134836), (5.7675901735, -22.0570115352))
            Line((5.7675901735, -22.0570115352), (5.7675901735, -22.3570115352))
            Line((5.7675901735, -22.3570115352), (6.6475901735, -22.3570115352))
            Line((6.6475901735, -22.3570115352), (6.6475901735, -22.0570115352))
            ThreePointArc((6.6475901735, -22.0570115352), (6.7793921219, -21.7388134836), (7.0975901735, -21.6070115352))
            Line((7.0975901735, -21.6070115352), (7.3975901735, -21.6070115352))
            ThreePointArc((7.3975901735, -21.6070115352), (7.715788225, -21.7388134836), (7.8475901735, -22.0570115352))
            Line((7.8475901735, -22.0570115352), (7.8475901735, -22.3570115352))
            Line((7.8475901735, -22.3570115352), (8.7275901735, -22.3570115352))
            Line((8.7275901735, -22.3570115352), (8.7275901735, -22.0570115352))
            ThreePointArc((8.7275901735, -22.0570115352), (8.8593921219, -21.7388134836), (9.1775901735, -21.6070115352))
            Line((9.1775901735, -21.6070115352), (9.4775901735, -21.6070115352))
            ThreePointArc((9.4775901735, -21.6070115352), (9.795788225, -21.7388134836), (9.9275901735, -22.0570115352))
            Line((9.9275901735, -22.0570115352), (9.9275901735, -22.3570115352))
            Line((9.9275901735, -22.3570115352), (10.8075901735, -22.3570115352))
            Line((10.8075901735, -22.3570115352), (10.8075901735, -22.0570115352))
            ThreePointArc((10.8075901735, -22.0570115352), (10.9393921219, -21.7388134836), (11.2575901735, -21.6070115352))
            Line((11.2575901735, -21.6070115352), (11.5575901735, -21.6070115352))
            ThreePointArc((11.5575901735, -21.6070115352), (11.875788225, -21.7388134836), (12.0075901735, -22.0570115352))
            Line((12.0075901735, -22.0570115352), (12.0075901735, -22.3570115352))
            Line((12.0075901735, -22.3570115352), (12.8875901735, -22.3570115352))
            Line((12.8875901735, -22.3570115352), (12.8875901735, -22.0570115352))
            ThreePointArc((12.8875901735, -22.0570115352), (13.0193921219, -21.7388134836), (13.3375901735, -21.6070115352))
            Line((13.3375901735, -21.6070115352), (13.6375901735, -21.6070115352))
            ThreePointArc((13.6375901735, -21.6070115352), (13.955788225, -21.7388134836), (14.0875901735, -22.0570115352))
            Line((14.0875901735, -22.0570115352), (14.0875901735, -22.3570115352))
            Line((14.0875901735, -22.3570115352), (14.9675901735, -22.3570115352))
            Line((14.9675901735, -22.3570115352), (14.9675901735, -22.0570115352))
            ThreePointArc((14.9675901735, -22.0570115352), (15.0993921219, -21.7388134836), (15.4175901735, -21.6070115352))
            Line((15.4175901735, -21.6070115352), (15.7175901735, -21.6070115352))
            ThreePointArc((15.7175901735, -21.6070115352), (16.035788225, -21.7388134836), (16.1675901735, -22.0570115352))
            Line((16.1675901735, -22.0570115352), (16.1675901735, -22.3570115352))
            Line((16.1675901735, -22.3570115352), (17.0475901735, -22.3570115352))
            Line((17.0475901735, -22.3570115352), (17.0475901735, -22.0570115352))
            ThreePointArc((17.0475901735, -22.0570115352), (17.1793921219, -21.7388134836), (17.4975901735, -21.6070115352))
            Line((17.4975901735, -21.6070115352), (17.7975901735, -21.6070115352))
            ThreePointArc((17.7975901735, -21.6070115352), (18.115788225, -21.7388134836), (18.2475901735, -22.0570115352))
            Line((18.2475901735, -22.0570115352), (18.2475901735, -22.3570115352))
            Line((18.2475901735, -22.3570115352), (19.1275901735, -22.3570115352))
            Line((19.1275901735, -22.3570115352), (19.1275901735, -22.0570115352))
            ThreePointArc((19.1275901735, -22.0570115352), (19.2593921219, -21.7388134836), (19.5775901735, -21.6070115352))
        make_face()
    extrude(amount=F3_DEPTH, mode=Mode.SUBTRACT)

    # F4
    f4_edges = [f1.edges().sort_by_distance(p)[0] for p in [
        (-14.27241, -8.277012, 0),
        (-14.27241, -11.567012, 15),
        (20.72759, -11.567012, 15),
        (20.72759, -8.277012, 0),
        (3.22759, -27.357012, 0),
        (3.22759, -27.357012, 15),
        (20.72759, -27.357012, 7.5),
        (-14.27241, -27.357012, 7.5),
        (20.72759, -24.857012, 0),
        (-14.27241, -24.857012, 0),
    ]]
    fillet(f4_edges, radius=F4_R)

    # F6
    f6_edges = [f1.edges().sort_by_distance(p)[0] for p in [
        (-21.77241, 8.222989, 0),
        (-21.77241, 8.222989, 15),
        (28.22759, 8.222989, 0),
        (28.22759, 8.222989, 15),
    ]]
    chamfer(f6_edges, length=F6_SIZE)

    # F5 (on face) + F7 (on face) → F8 (cut, through all)
    with BuildSketch(Plane.XZ.offset(-4.2229884648)):
        with Locations((24.2275901735, 7.5)):
            Circle(F5_R)
    with BuildSketch(Plane.XZ.offset(-4.2229884648)):
        with Locations((-17.7724098265, 7.5)):
            Circle(F7_R)
    extrude(amount=-F8_DEPTH, mode=Mode.SUBTRACT)

    # F5 (on face) + F7 (on face) → F9 (cut)
    with BuildSketch(Plane.XZ.offset(-4.2229884648)):
        with Locations((24.2275901735, 7.5)):
            Circle(F5_R_2)
        with Locations((24.2275901735, 7.5)):
            Circle(F5_R, mode=Mode.SUBTRACT)
    with BuildSketch(Plane.XZ.offset(-4.2229884648)):
        with Locations((-17.7724098265, 7.5)):
            Circle(F7_R_2)
        with Locations((-17.7724098265, 7.5)):
            Circle(F7_R, mode=Mode.SUBTRACT)
    extrude(amount=-F9_DEPTH, mode=Mode.SUBTRACT)


solid = f1.part
